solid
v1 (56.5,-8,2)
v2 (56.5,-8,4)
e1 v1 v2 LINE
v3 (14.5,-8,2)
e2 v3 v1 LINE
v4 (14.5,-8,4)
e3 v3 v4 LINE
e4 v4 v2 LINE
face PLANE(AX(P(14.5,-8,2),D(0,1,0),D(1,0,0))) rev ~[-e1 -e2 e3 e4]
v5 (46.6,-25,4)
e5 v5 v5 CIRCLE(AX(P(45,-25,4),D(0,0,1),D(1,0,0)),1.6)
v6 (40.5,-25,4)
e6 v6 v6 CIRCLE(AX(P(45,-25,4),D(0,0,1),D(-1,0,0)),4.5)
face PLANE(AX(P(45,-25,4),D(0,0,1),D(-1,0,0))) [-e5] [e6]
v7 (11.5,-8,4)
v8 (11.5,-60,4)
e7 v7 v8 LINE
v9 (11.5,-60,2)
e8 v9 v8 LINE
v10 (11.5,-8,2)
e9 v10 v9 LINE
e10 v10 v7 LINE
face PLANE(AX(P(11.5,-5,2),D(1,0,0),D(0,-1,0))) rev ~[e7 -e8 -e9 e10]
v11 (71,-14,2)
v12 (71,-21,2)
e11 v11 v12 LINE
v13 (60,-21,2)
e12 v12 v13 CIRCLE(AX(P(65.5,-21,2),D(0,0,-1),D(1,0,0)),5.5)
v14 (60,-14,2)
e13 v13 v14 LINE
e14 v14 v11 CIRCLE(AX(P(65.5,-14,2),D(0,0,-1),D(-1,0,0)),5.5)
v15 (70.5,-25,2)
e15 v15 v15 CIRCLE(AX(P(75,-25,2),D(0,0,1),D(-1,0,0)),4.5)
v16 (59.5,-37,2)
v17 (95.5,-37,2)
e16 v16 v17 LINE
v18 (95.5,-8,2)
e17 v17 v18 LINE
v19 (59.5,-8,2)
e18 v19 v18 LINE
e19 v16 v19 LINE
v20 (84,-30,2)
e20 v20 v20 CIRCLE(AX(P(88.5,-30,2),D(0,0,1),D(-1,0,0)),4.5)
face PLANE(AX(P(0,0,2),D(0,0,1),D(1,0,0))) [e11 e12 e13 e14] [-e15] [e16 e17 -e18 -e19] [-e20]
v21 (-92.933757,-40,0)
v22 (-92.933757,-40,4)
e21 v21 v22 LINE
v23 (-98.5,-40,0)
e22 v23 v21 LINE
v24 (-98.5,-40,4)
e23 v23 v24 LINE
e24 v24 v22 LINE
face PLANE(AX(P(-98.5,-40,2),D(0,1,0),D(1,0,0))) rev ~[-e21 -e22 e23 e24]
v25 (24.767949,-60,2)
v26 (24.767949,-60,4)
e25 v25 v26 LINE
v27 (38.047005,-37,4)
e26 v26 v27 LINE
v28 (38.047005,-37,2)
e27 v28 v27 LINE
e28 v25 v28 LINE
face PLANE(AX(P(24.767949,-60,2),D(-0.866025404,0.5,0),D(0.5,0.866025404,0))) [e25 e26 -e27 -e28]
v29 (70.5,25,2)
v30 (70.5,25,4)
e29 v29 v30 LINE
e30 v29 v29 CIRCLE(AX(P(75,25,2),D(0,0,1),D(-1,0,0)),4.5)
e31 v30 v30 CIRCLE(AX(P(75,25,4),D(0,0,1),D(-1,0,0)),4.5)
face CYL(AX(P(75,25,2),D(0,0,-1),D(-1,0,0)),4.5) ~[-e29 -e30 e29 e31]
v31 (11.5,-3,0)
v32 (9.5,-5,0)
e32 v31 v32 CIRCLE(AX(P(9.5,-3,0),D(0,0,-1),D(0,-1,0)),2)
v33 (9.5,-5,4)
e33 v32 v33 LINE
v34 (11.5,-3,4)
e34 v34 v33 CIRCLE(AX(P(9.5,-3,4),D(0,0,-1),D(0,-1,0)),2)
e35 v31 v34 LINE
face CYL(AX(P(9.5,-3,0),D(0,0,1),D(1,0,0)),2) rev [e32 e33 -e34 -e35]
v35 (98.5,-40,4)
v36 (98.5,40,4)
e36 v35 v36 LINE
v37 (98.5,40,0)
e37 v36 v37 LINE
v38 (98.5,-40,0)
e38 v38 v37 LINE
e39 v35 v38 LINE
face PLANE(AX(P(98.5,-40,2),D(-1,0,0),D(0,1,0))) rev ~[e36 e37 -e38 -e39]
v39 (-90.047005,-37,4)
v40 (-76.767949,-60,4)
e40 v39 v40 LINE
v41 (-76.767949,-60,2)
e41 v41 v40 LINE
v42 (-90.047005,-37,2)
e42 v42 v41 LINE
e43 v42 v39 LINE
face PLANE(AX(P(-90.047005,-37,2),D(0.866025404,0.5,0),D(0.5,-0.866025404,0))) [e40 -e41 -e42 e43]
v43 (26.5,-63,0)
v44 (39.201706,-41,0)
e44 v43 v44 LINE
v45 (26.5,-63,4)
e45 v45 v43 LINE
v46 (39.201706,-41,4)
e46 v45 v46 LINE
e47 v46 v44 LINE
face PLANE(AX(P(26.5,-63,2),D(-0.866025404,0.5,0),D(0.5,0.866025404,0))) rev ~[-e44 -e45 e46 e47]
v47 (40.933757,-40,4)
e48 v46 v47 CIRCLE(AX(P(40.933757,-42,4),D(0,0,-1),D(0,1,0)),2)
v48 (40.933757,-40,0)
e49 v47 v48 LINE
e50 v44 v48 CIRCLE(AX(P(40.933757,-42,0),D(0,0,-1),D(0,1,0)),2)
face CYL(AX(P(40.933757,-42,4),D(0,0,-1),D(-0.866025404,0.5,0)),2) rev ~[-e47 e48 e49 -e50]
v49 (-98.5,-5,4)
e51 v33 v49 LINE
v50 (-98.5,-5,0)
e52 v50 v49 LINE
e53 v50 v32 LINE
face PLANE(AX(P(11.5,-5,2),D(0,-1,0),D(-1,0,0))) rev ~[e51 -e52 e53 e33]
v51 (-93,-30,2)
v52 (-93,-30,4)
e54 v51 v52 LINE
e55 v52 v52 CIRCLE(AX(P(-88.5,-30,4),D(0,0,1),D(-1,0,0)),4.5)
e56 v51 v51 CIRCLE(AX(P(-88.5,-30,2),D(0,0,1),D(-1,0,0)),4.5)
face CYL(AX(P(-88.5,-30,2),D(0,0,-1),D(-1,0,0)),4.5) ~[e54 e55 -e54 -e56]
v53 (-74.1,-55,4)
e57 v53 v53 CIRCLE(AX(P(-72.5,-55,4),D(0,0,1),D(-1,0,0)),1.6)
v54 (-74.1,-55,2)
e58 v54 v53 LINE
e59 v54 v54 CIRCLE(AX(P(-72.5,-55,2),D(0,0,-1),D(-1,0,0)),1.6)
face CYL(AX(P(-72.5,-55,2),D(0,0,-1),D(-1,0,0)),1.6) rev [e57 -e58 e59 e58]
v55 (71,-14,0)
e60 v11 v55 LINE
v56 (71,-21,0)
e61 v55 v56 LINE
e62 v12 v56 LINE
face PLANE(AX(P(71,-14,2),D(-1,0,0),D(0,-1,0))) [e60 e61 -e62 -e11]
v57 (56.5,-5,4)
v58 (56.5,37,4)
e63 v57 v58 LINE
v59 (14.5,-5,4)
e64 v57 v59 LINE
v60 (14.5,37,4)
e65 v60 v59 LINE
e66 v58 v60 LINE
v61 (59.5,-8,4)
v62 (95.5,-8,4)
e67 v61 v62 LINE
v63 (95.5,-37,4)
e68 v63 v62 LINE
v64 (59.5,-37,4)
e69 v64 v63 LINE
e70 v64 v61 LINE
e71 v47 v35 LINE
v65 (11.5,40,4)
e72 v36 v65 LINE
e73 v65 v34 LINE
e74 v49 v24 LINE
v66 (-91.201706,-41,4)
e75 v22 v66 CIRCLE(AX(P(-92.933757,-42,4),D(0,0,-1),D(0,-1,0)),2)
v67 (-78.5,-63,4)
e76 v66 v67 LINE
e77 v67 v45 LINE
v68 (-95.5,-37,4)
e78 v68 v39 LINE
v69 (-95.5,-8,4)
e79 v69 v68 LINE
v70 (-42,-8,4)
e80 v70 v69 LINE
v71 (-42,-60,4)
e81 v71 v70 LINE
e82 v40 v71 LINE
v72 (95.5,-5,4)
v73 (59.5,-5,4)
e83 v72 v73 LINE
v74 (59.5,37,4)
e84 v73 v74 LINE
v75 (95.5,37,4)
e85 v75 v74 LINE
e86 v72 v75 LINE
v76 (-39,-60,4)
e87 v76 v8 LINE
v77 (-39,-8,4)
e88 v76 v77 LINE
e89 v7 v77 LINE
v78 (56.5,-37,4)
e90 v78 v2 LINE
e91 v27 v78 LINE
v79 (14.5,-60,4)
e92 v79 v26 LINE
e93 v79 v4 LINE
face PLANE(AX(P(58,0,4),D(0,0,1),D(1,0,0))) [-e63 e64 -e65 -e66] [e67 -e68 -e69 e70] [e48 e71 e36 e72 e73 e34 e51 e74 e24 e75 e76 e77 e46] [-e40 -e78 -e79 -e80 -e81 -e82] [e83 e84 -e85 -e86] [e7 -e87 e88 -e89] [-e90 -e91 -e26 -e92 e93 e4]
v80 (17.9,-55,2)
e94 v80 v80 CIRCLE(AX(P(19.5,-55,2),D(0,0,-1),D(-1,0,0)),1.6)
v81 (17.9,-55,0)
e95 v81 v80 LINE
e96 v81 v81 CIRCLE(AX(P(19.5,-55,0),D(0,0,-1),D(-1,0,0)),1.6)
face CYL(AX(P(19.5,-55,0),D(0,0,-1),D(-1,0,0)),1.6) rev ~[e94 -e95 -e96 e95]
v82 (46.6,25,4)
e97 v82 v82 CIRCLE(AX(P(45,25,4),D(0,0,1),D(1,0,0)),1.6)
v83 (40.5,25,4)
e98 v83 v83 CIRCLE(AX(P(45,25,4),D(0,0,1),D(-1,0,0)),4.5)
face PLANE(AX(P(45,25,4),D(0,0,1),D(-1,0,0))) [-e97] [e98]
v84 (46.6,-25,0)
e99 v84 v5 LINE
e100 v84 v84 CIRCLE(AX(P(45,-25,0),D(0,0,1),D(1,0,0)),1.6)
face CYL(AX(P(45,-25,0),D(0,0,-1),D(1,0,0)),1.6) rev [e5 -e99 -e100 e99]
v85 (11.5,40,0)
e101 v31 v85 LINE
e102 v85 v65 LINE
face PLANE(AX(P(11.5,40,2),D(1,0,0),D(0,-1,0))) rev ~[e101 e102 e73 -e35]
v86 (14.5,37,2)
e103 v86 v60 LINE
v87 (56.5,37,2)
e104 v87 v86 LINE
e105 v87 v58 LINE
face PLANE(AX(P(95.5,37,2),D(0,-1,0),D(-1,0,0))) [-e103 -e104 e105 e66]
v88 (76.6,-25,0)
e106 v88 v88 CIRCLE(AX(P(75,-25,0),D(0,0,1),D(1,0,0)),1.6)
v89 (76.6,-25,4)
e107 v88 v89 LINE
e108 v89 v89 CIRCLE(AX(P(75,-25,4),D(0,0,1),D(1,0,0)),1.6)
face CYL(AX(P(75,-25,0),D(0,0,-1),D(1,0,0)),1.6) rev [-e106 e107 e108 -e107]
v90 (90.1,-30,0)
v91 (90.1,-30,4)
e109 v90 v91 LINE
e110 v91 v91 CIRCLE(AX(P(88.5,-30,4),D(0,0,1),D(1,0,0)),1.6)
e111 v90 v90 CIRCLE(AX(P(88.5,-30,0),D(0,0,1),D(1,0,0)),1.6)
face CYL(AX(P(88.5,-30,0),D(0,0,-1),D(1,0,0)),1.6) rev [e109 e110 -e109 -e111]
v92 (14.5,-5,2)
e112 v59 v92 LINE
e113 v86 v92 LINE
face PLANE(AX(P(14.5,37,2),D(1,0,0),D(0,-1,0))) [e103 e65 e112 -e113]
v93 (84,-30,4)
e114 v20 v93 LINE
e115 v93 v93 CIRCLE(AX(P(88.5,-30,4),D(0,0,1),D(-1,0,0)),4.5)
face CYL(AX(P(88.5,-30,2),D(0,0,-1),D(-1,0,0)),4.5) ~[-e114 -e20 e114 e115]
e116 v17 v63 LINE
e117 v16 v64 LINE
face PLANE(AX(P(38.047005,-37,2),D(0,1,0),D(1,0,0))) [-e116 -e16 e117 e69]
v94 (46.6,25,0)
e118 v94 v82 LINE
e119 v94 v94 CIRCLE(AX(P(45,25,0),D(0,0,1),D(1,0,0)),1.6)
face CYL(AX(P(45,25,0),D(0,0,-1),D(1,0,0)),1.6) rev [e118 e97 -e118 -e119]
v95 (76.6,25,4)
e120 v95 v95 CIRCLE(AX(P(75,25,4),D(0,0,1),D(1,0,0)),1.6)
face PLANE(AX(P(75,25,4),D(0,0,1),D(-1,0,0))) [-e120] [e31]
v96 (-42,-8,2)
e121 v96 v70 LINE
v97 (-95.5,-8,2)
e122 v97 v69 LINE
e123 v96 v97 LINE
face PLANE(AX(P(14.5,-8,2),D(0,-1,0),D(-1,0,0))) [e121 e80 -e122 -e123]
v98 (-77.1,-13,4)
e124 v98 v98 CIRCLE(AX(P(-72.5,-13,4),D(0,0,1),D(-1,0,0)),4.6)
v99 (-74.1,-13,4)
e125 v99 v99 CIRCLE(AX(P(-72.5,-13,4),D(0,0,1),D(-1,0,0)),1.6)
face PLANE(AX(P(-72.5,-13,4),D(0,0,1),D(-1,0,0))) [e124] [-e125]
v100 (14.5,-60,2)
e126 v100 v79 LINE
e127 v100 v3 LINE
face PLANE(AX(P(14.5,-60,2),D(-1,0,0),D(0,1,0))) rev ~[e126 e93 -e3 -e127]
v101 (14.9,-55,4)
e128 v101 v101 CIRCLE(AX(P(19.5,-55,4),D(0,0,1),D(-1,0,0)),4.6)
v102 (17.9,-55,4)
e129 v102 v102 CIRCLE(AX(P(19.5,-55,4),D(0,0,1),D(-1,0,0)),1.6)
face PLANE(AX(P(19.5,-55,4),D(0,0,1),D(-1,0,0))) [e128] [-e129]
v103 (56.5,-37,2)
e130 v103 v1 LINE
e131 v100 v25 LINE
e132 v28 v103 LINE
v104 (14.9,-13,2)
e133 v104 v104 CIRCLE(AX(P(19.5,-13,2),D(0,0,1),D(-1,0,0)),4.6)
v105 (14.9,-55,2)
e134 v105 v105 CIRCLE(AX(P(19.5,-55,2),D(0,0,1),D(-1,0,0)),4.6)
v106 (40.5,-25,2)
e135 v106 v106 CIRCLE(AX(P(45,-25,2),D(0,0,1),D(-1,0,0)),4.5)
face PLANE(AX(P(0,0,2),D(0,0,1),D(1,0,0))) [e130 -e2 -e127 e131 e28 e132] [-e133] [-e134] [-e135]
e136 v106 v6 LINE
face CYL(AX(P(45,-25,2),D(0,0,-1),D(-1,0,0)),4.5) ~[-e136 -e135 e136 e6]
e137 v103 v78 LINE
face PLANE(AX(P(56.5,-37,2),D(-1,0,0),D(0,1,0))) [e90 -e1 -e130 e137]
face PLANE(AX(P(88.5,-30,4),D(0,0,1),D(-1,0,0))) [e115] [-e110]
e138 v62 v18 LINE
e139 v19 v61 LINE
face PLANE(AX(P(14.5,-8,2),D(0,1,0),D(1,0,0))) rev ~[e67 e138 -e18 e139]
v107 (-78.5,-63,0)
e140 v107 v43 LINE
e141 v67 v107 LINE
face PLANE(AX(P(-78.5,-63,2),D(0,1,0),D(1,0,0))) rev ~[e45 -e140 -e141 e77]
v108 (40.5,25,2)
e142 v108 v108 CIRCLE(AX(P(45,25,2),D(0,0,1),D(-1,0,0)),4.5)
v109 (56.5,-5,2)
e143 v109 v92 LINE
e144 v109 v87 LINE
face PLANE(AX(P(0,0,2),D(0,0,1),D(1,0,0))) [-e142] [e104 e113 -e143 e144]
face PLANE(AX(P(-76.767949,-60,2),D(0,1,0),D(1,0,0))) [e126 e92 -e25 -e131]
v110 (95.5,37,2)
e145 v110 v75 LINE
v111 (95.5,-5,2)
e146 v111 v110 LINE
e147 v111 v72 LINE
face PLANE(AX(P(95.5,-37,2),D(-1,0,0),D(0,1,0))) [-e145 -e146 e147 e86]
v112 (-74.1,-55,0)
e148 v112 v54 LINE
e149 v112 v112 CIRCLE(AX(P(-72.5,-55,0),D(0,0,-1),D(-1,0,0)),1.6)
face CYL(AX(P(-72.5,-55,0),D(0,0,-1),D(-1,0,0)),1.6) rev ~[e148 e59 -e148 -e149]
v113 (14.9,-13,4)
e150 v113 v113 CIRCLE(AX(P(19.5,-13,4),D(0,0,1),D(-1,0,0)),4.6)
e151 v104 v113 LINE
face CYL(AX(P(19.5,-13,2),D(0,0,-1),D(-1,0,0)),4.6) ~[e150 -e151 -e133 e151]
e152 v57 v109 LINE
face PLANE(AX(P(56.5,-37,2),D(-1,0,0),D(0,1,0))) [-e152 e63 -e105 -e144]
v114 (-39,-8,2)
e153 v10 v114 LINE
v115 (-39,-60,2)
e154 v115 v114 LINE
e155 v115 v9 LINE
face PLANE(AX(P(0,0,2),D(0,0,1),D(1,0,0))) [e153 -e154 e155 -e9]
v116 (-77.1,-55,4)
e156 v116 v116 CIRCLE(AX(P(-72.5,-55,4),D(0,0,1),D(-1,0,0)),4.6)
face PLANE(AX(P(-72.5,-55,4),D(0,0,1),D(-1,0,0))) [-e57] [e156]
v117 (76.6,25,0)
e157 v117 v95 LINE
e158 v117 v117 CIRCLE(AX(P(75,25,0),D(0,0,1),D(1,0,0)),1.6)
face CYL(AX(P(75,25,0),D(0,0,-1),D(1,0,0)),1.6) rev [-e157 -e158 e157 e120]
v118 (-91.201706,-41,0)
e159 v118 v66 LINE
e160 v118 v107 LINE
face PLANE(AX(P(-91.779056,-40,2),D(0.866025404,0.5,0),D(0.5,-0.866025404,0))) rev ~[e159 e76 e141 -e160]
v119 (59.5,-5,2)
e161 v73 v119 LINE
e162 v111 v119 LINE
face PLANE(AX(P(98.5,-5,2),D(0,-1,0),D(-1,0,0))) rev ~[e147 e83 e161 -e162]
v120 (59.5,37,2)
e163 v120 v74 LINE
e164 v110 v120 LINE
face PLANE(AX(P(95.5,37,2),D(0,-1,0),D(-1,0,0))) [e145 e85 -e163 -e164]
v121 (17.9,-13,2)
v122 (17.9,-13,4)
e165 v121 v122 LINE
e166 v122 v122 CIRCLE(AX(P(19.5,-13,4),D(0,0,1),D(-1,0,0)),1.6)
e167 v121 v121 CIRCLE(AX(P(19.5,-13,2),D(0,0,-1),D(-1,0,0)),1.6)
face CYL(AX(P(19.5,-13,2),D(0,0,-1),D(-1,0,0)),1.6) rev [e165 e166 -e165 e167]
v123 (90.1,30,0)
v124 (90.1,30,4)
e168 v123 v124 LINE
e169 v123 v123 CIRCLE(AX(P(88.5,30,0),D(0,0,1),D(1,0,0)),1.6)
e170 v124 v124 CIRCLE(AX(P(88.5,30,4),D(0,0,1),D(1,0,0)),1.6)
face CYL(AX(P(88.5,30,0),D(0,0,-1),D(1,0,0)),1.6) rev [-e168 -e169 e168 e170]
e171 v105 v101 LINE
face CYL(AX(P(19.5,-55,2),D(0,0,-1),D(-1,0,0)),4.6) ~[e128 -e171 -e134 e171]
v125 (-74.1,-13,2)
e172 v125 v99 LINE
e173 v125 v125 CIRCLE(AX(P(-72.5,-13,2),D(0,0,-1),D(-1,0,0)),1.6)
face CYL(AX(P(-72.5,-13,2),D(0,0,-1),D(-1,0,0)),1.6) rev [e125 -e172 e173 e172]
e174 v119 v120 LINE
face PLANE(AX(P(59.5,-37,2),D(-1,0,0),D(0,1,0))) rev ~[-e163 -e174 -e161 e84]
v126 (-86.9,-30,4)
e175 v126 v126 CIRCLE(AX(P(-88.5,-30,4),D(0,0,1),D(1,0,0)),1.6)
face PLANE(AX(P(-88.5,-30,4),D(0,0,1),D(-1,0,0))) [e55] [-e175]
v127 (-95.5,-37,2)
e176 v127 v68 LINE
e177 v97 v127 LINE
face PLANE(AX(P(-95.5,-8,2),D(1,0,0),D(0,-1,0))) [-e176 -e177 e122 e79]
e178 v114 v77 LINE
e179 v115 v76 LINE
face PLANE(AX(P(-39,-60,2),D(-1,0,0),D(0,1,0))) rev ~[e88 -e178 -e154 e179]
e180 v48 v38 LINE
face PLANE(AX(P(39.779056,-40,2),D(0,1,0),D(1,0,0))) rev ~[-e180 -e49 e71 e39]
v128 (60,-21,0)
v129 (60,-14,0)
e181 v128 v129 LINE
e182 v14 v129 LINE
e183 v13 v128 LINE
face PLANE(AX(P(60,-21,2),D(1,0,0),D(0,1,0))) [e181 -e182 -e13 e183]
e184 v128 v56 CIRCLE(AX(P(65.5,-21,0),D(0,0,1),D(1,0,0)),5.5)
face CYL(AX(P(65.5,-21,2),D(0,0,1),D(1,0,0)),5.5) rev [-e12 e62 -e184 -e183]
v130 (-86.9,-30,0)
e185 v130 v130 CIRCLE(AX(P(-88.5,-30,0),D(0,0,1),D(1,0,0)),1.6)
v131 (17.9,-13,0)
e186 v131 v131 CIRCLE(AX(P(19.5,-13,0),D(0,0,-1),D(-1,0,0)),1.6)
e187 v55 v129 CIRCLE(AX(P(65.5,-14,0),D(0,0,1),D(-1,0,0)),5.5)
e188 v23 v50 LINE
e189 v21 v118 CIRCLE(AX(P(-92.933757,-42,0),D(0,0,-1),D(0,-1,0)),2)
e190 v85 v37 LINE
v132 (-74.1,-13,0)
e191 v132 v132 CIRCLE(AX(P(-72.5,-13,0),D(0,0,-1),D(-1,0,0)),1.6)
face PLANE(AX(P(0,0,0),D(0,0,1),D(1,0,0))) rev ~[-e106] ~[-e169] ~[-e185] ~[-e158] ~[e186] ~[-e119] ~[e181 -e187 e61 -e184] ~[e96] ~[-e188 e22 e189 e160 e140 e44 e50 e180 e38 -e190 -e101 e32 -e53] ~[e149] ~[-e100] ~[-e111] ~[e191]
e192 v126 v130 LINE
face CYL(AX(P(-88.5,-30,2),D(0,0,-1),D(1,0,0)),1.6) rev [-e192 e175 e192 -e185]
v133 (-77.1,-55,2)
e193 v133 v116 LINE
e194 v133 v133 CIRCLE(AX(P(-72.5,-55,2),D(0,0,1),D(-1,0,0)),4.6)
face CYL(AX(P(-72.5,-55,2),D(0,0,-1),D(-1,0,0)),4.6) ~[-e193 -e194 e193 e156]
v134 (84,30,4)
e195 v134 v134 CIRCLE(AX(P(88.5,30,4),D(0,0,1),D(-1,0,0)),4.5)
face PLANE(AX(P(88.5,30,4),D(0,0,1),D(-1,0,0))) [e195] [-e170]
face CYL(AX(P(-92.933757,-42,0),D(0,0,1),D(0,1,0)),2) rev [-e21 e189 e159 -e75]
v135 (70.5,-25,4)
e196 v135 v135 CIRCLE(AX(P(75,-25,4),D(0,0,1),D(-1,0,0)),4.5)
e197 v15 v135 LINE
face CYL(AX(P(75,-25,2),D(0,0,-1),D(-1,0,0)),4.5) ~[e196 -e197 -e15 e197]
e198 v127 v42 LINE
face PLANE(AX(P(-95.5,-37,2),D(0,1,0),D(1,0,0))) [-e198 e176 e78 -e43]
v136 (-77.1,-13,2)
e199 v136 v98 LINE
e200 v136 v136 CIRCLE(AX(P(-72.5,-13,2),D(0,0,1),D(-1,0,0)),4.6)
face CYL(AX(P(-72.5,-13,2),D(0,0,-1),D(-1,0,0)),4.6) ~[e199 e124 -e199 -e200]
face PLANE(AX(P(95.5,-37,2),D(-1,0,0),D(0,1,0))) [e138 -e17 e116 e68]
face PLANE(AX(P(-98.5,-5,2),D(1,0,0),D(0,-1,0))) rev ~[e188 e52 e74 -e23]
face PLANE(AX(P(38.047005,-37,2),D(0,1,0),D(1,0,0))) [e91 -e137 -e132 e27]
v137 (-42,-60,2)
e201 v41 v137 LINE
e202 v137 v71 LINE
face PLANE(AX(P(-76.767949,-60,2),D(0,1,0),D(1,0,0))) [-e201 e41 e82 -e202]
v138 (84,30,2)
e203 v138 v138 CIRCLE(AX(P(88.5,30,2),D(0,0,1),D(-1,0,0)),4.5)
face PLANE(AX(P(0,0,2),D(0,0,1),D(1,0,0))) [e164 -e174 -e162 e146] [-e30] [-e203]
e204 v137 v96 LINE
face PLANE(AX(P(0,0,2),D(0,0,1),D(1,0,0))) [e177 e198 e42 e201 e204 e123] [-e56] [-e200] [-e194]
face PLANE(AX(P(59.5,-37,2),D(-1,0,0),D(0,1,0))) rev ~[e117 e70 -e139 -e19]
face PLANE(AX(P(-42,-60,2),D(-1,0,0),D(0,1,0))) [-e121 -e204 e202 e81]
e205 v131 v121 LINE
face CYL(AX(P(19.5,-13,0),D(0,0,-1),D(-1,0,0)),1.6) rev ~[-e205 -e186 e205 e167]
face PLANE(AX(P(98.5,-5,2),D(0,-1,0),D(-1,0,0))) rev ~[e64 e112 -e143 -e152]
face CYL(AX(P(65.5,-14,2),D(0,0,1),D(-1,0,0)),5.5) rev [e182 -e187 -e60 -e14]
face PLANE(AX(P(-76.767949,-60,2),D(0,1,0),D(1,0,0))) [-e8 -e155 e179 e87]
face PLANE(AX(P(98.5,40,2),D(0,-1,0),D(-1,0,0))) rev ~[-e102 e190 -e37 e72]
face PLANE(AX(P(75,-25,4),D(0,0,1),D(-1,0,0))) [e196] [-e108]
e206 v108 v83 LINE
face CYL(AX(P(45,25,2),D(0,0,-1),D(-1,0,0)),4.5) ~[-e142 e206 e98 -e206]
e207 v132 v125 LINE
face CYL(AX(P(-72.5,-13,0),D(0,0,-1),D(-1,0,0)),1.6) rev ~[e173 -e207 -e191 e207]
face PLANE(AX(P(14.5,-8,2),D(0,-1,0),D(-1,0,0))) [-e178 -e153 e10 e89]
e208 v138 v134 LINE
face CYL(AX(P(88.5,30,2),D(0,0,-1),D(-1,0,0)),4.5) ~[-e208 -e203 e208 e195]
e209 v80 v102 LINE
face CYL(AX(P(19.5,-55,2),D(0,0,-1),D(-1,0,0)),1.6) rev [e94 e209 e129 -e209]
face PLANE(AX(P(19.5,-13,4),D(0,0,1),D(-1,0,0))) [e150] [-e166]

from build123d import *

# Parameters (mm, degrees)
ESQUISSE1_W             = 197
ESQUISSE1_H             = 80
ESQUISSE1_R             = 1.6
BOSS_EXTRU_1_DEPTH      = 2
ESQUISSE2_W             = 110
ESQUISSE2_H             = 45
ENL_V_MAT_EXTRU_1_DEPTH = 2
BOSS_EXTRU_6_DEPTH      = 2
BOSS_EXTRU_2_DEPTH      = 2
ESQUISSE4_W             = 3
ESQUISSE4_H             = 52
BOSS_EXTRU_3_DEPTH      = 2
ESQUISSE5_W             = 3
ESQUISSE5_H             = 74
BOSS_EXTRU_4_DEPTH      = 2
ESQUISSE6_R             = 4.5
ESQUISSE6_R_2           = 1.6
BOSS_EXTRU_5_DEPTH      = 2
ENL_V_MAT_EXTRU_2_DEPTH = 10
ESQUISSE9_R             = 1.6
ENL_V_MAT_EXTRU_3_DEPTH = 2
ESQUISSE10_R            = 4.6
ESQUISSE10_R_2          = 1.6
BOSS_EXTRU_7_DEPTH      = 2
CONG_14_R               = 2


with BuildPart() as part:
    # Esquisse1 → Boss.-Extru.1 (new body)
    with BuildSketch(Plane.XY):
        Rectangle(ESQUISSE1_W, ESQUISSE1_H)
        with Locations((-88.5, -30)):
            Circle(ESQUISSE1_R, mode=Mode.SUBTRACT)
        with Locations((88.5, 30)):
            Circle(ESQUISSE1_R, mode=Mode.SUBTRACT)
        with Locations((88.5, -30)):
            Circle(ESQUISSE1_R, mode=Mode.SUBTRACT)
        with Locations((-88.5, 30)):
            Circle(ESQUISSE1_R, mode=Mode.SUBTRACT)
        with Locations((45, 25)):
            Circle(ESQUISSE1_R, mode=Mode.SUBTRACT)
        with Locations((75, 25)):
            Circle(ESQUISSE1_R, mode=Mode.SUBTRACT)
        with Locations((45, -25)):
            Circle(ESQUISSE1_R, mode=Mode.SUBTRACT)
        with Locations((75, -25)):
            Circle(ESQUISSE1_R, mode=Mode.SUBTRACT)
    extrude(amount=BOSS_EXTRU_1_DEPTH)

    # Esquisse2 → Enlèv. mat.-Extru.1 (cut)
    with BuildSketch(Plane.XY.offset(2)):
        with Locations((-43.5, 17.5)):
            Rectangle(ESQUISSE2_W, ESQUISSE2_H)
    extrude(amount=-ENL_V_MAT_EXTRU_1_DEPTH, mode=Mode.SUBTRACT)

    # Esquisse8 → Boss.-Extru.6 (add)
    with BuildSketch(Plane.XY.offset(2)):
        Polygon((-91.779056191, -40), (-78.5, -63), (26.5, -63), (39.779056191, -40), align=None)
    extrude(amount=-BOSS_EXTRU_6_DEPTH)

    # Esquisse3 → Boss.-Extru.2 (add)
    with BuildSketch(Plane.XY.offset(2)):
        Polygon((98.5, 40), (11.5, 40), (11.5, -5), (-98.5, -5), (-98.5, -40), (-91.779056191, -40), (-78.5, -63), (26.5, -63), (39.779056191, -40), (98.5, -40), align=None)
        Polygon((95.5, 37), (14.5, 37), (14.5, -8), (-95.5, -8), (-95.5, -37), (-90.047005384, -37), (-76.767949192, -60), (24.767949192, -60), (38.047005384, -37), (95.5, -37), align=None, mode=Mode.SUBTRACT)
    extrude(amount=BOSS_EXTRU_2_DEPTH)

    # Esquisse4 → Boss.-Extru.3 (add)
    with BuildSketch(Plane.XY.offset(2)):
        Polygon((14.5, -5), (11.5, -5), (11.5, -60), (14.5, -60), (14.5, -8), (98.5, -8), (98.5, -5), align=None)
        with Locations((-40.5, -34)):
            Rectangle(ESQUISSE4_W, ESQUISSE4_H)
    extrude(amount=BOSS_EXTRU_3_DEPTH)

    # Esquisse5 → Boss.-Extru.4 (add)
    with BuildSketch(Plane.XY.offset(2)):
        with Locations((58, 0)):
            Rectangle(ESQUISSE5_W, ESQUISSE5_H)
    extrude(amount=BOSS_EXTRU_4_DEPTH)

    # Esquisse6 → Boss.-Extru.5 (add)
    with BuildSketch(Plane.XY.offset(2)):
        with Locations(Location((-88.5, -30, 0), (0, 0, 180))):
            Circle(ESQUISSE6_R)
        with Locations((-88.5, -30)):
            Circle(ESQUISSE6_R_2, mode=Mode.SUBTRACT)
        with Locations(Location((88.5, -30, 0), (0, 0, 180))):
            Circle(ESQUISSE6_R)
        with Locations((88.5, -30)):
            Circle(ESQUISSE6_R_2, mode=Mode.SUBTRACT)
        with Locations(Location((75, -25, 0), (0, 0, 180))):
            Circle(ESQUISSE6_R)
        with Locations((75, -25)):
            Circle(ESQUISSE6_R_2, mode=Mode.SUBTRACT)
        with Locations(Location((45, -25, 0), (0, 0, 180))):
            Circle(ESQUISSE6_R)
        with Locations((45, -25)):
            Circle(ESQUISSE6_R_2, mode=Mode.SUBTRACT)
        with Locations(Location((45, 25, 0), (0, 0, 180))):
            Circle(ESQUISSE6_R)
        with Locations((45, 25)):
            Circle(ESQUISSE6_R_2, mode=Mode.SUBTRACT)
        with Locations(Location((75, 25, 0), (0, 0, 180))):
            Circle(ESQUISSE6_R)
        with Locations((75, 25)):
            Circle(ESQUISSE6_R_2, mode=Mode.SUBTRACT)
        with Locations(Location((88.5, 30, 0), (0, 0, 180))):
            Circle(ESQUISSE6_R)
        with Locations((88.5, 30)):
            Circle(ESQUISSE6_R_2, mode=Mode.SUBTRACT)
    extrude(amount=BOSS_EXTRU_5_DEPTH)

    # Esquisse7 → Enlèv. mat.-Extru.2 (cut)
    with BuildSketch(Plane.XY.offset(2)):
        with BuildLine():
            Line((71, -14), (71, -21))
            ThreePointArc((71, -21), (65.5, -26.5), (60, -21))
            Line((60, -21), (60, -14))
            ThreePointArc((60, -14), (65.5, -8.5), (71, -14))
        make_face()
    extrude(amount=-ENL_V_MAT_EXTRU_2_DEPTH, mode=Mode.SUBTRACT)

    # Esquisse9 → Enlèv. mat.-Extru.3 (cut)
    with BuildSketch(Plane(origin=(0, 0, 0), x_dir=(-1, 0, 0), z_dir=(0, 0, -1))):
        with Locations((-19.5, -13)):
            Circle(ESQUISSE9_R)
        with Locations((-19.5, -55)):
            Circle(ESQUISSE9_R)
        with Locations((72.5, -13)):
            Circle(ESQUISSE9_R)
        with Locations((72.5, -55)):
            Circle(ESQUISSE9_R)
    extrude(amount=-ENL_V_MAT_EXTRU_3_DEPTH, mode=Mode.SUBTRACT)

    # Esquisse10 → Boss.-Extru.7 (add)
    with BuildSketch(Plane.XY.offset(2)):
        with Locations(Location((-72.5, -13, 0), (0, 0, 180))):
            Circle(ESQUISSE10_R)
        with Locations(Location((-72.5, -13, 0), (0, 0, 180))):
            Circle(ESQUISSE10_R_2, mode=Mode.SUBTRACT)
        with Locations(Location((-72.5, -55, 0), (0, 0, 180))):
            Circle(ESQUISSE10_R)
        with Locations(Location((-72.5, -55, 0), (0, 0, 180))):
            Circle(ESQUISSE10_R_2, mode=Mode.SUBTRACT)
        with Locations(Location((19.5, -13, 0), (0, 0, 180))):
            Circle(ESQUISSE10_R)
        with Locations(Location((19.5, -13, 0), (0, 0, 180))):
            Circle(ESQUISSE10_R_2, mode=Mode.SUBTRACT)
        with Locations(Location((19.5, -55, 0), (0, 0, 180))):
            Circle(ESQUISSE10_R)
        with Locations(Location((19.5, -55, 0), (0, 0, 180))):
            Circle(ESQUISSE10_R_2, mode=Mode.SUBTRACT)
    extrude(amount=BOSS_EXTRU_7_DEPTH)

    # Congé14
    cong_14_edges = [part.edges().sort_by_distance(p)[0] for p in [
        (11.5, -5, 2),
        (-91.779056191, -40, 2),
        (39.779056191, -40, 2),
    ]]
    fillet(cong_14_edges, radius=CONG_14_R)


solid = part.part
